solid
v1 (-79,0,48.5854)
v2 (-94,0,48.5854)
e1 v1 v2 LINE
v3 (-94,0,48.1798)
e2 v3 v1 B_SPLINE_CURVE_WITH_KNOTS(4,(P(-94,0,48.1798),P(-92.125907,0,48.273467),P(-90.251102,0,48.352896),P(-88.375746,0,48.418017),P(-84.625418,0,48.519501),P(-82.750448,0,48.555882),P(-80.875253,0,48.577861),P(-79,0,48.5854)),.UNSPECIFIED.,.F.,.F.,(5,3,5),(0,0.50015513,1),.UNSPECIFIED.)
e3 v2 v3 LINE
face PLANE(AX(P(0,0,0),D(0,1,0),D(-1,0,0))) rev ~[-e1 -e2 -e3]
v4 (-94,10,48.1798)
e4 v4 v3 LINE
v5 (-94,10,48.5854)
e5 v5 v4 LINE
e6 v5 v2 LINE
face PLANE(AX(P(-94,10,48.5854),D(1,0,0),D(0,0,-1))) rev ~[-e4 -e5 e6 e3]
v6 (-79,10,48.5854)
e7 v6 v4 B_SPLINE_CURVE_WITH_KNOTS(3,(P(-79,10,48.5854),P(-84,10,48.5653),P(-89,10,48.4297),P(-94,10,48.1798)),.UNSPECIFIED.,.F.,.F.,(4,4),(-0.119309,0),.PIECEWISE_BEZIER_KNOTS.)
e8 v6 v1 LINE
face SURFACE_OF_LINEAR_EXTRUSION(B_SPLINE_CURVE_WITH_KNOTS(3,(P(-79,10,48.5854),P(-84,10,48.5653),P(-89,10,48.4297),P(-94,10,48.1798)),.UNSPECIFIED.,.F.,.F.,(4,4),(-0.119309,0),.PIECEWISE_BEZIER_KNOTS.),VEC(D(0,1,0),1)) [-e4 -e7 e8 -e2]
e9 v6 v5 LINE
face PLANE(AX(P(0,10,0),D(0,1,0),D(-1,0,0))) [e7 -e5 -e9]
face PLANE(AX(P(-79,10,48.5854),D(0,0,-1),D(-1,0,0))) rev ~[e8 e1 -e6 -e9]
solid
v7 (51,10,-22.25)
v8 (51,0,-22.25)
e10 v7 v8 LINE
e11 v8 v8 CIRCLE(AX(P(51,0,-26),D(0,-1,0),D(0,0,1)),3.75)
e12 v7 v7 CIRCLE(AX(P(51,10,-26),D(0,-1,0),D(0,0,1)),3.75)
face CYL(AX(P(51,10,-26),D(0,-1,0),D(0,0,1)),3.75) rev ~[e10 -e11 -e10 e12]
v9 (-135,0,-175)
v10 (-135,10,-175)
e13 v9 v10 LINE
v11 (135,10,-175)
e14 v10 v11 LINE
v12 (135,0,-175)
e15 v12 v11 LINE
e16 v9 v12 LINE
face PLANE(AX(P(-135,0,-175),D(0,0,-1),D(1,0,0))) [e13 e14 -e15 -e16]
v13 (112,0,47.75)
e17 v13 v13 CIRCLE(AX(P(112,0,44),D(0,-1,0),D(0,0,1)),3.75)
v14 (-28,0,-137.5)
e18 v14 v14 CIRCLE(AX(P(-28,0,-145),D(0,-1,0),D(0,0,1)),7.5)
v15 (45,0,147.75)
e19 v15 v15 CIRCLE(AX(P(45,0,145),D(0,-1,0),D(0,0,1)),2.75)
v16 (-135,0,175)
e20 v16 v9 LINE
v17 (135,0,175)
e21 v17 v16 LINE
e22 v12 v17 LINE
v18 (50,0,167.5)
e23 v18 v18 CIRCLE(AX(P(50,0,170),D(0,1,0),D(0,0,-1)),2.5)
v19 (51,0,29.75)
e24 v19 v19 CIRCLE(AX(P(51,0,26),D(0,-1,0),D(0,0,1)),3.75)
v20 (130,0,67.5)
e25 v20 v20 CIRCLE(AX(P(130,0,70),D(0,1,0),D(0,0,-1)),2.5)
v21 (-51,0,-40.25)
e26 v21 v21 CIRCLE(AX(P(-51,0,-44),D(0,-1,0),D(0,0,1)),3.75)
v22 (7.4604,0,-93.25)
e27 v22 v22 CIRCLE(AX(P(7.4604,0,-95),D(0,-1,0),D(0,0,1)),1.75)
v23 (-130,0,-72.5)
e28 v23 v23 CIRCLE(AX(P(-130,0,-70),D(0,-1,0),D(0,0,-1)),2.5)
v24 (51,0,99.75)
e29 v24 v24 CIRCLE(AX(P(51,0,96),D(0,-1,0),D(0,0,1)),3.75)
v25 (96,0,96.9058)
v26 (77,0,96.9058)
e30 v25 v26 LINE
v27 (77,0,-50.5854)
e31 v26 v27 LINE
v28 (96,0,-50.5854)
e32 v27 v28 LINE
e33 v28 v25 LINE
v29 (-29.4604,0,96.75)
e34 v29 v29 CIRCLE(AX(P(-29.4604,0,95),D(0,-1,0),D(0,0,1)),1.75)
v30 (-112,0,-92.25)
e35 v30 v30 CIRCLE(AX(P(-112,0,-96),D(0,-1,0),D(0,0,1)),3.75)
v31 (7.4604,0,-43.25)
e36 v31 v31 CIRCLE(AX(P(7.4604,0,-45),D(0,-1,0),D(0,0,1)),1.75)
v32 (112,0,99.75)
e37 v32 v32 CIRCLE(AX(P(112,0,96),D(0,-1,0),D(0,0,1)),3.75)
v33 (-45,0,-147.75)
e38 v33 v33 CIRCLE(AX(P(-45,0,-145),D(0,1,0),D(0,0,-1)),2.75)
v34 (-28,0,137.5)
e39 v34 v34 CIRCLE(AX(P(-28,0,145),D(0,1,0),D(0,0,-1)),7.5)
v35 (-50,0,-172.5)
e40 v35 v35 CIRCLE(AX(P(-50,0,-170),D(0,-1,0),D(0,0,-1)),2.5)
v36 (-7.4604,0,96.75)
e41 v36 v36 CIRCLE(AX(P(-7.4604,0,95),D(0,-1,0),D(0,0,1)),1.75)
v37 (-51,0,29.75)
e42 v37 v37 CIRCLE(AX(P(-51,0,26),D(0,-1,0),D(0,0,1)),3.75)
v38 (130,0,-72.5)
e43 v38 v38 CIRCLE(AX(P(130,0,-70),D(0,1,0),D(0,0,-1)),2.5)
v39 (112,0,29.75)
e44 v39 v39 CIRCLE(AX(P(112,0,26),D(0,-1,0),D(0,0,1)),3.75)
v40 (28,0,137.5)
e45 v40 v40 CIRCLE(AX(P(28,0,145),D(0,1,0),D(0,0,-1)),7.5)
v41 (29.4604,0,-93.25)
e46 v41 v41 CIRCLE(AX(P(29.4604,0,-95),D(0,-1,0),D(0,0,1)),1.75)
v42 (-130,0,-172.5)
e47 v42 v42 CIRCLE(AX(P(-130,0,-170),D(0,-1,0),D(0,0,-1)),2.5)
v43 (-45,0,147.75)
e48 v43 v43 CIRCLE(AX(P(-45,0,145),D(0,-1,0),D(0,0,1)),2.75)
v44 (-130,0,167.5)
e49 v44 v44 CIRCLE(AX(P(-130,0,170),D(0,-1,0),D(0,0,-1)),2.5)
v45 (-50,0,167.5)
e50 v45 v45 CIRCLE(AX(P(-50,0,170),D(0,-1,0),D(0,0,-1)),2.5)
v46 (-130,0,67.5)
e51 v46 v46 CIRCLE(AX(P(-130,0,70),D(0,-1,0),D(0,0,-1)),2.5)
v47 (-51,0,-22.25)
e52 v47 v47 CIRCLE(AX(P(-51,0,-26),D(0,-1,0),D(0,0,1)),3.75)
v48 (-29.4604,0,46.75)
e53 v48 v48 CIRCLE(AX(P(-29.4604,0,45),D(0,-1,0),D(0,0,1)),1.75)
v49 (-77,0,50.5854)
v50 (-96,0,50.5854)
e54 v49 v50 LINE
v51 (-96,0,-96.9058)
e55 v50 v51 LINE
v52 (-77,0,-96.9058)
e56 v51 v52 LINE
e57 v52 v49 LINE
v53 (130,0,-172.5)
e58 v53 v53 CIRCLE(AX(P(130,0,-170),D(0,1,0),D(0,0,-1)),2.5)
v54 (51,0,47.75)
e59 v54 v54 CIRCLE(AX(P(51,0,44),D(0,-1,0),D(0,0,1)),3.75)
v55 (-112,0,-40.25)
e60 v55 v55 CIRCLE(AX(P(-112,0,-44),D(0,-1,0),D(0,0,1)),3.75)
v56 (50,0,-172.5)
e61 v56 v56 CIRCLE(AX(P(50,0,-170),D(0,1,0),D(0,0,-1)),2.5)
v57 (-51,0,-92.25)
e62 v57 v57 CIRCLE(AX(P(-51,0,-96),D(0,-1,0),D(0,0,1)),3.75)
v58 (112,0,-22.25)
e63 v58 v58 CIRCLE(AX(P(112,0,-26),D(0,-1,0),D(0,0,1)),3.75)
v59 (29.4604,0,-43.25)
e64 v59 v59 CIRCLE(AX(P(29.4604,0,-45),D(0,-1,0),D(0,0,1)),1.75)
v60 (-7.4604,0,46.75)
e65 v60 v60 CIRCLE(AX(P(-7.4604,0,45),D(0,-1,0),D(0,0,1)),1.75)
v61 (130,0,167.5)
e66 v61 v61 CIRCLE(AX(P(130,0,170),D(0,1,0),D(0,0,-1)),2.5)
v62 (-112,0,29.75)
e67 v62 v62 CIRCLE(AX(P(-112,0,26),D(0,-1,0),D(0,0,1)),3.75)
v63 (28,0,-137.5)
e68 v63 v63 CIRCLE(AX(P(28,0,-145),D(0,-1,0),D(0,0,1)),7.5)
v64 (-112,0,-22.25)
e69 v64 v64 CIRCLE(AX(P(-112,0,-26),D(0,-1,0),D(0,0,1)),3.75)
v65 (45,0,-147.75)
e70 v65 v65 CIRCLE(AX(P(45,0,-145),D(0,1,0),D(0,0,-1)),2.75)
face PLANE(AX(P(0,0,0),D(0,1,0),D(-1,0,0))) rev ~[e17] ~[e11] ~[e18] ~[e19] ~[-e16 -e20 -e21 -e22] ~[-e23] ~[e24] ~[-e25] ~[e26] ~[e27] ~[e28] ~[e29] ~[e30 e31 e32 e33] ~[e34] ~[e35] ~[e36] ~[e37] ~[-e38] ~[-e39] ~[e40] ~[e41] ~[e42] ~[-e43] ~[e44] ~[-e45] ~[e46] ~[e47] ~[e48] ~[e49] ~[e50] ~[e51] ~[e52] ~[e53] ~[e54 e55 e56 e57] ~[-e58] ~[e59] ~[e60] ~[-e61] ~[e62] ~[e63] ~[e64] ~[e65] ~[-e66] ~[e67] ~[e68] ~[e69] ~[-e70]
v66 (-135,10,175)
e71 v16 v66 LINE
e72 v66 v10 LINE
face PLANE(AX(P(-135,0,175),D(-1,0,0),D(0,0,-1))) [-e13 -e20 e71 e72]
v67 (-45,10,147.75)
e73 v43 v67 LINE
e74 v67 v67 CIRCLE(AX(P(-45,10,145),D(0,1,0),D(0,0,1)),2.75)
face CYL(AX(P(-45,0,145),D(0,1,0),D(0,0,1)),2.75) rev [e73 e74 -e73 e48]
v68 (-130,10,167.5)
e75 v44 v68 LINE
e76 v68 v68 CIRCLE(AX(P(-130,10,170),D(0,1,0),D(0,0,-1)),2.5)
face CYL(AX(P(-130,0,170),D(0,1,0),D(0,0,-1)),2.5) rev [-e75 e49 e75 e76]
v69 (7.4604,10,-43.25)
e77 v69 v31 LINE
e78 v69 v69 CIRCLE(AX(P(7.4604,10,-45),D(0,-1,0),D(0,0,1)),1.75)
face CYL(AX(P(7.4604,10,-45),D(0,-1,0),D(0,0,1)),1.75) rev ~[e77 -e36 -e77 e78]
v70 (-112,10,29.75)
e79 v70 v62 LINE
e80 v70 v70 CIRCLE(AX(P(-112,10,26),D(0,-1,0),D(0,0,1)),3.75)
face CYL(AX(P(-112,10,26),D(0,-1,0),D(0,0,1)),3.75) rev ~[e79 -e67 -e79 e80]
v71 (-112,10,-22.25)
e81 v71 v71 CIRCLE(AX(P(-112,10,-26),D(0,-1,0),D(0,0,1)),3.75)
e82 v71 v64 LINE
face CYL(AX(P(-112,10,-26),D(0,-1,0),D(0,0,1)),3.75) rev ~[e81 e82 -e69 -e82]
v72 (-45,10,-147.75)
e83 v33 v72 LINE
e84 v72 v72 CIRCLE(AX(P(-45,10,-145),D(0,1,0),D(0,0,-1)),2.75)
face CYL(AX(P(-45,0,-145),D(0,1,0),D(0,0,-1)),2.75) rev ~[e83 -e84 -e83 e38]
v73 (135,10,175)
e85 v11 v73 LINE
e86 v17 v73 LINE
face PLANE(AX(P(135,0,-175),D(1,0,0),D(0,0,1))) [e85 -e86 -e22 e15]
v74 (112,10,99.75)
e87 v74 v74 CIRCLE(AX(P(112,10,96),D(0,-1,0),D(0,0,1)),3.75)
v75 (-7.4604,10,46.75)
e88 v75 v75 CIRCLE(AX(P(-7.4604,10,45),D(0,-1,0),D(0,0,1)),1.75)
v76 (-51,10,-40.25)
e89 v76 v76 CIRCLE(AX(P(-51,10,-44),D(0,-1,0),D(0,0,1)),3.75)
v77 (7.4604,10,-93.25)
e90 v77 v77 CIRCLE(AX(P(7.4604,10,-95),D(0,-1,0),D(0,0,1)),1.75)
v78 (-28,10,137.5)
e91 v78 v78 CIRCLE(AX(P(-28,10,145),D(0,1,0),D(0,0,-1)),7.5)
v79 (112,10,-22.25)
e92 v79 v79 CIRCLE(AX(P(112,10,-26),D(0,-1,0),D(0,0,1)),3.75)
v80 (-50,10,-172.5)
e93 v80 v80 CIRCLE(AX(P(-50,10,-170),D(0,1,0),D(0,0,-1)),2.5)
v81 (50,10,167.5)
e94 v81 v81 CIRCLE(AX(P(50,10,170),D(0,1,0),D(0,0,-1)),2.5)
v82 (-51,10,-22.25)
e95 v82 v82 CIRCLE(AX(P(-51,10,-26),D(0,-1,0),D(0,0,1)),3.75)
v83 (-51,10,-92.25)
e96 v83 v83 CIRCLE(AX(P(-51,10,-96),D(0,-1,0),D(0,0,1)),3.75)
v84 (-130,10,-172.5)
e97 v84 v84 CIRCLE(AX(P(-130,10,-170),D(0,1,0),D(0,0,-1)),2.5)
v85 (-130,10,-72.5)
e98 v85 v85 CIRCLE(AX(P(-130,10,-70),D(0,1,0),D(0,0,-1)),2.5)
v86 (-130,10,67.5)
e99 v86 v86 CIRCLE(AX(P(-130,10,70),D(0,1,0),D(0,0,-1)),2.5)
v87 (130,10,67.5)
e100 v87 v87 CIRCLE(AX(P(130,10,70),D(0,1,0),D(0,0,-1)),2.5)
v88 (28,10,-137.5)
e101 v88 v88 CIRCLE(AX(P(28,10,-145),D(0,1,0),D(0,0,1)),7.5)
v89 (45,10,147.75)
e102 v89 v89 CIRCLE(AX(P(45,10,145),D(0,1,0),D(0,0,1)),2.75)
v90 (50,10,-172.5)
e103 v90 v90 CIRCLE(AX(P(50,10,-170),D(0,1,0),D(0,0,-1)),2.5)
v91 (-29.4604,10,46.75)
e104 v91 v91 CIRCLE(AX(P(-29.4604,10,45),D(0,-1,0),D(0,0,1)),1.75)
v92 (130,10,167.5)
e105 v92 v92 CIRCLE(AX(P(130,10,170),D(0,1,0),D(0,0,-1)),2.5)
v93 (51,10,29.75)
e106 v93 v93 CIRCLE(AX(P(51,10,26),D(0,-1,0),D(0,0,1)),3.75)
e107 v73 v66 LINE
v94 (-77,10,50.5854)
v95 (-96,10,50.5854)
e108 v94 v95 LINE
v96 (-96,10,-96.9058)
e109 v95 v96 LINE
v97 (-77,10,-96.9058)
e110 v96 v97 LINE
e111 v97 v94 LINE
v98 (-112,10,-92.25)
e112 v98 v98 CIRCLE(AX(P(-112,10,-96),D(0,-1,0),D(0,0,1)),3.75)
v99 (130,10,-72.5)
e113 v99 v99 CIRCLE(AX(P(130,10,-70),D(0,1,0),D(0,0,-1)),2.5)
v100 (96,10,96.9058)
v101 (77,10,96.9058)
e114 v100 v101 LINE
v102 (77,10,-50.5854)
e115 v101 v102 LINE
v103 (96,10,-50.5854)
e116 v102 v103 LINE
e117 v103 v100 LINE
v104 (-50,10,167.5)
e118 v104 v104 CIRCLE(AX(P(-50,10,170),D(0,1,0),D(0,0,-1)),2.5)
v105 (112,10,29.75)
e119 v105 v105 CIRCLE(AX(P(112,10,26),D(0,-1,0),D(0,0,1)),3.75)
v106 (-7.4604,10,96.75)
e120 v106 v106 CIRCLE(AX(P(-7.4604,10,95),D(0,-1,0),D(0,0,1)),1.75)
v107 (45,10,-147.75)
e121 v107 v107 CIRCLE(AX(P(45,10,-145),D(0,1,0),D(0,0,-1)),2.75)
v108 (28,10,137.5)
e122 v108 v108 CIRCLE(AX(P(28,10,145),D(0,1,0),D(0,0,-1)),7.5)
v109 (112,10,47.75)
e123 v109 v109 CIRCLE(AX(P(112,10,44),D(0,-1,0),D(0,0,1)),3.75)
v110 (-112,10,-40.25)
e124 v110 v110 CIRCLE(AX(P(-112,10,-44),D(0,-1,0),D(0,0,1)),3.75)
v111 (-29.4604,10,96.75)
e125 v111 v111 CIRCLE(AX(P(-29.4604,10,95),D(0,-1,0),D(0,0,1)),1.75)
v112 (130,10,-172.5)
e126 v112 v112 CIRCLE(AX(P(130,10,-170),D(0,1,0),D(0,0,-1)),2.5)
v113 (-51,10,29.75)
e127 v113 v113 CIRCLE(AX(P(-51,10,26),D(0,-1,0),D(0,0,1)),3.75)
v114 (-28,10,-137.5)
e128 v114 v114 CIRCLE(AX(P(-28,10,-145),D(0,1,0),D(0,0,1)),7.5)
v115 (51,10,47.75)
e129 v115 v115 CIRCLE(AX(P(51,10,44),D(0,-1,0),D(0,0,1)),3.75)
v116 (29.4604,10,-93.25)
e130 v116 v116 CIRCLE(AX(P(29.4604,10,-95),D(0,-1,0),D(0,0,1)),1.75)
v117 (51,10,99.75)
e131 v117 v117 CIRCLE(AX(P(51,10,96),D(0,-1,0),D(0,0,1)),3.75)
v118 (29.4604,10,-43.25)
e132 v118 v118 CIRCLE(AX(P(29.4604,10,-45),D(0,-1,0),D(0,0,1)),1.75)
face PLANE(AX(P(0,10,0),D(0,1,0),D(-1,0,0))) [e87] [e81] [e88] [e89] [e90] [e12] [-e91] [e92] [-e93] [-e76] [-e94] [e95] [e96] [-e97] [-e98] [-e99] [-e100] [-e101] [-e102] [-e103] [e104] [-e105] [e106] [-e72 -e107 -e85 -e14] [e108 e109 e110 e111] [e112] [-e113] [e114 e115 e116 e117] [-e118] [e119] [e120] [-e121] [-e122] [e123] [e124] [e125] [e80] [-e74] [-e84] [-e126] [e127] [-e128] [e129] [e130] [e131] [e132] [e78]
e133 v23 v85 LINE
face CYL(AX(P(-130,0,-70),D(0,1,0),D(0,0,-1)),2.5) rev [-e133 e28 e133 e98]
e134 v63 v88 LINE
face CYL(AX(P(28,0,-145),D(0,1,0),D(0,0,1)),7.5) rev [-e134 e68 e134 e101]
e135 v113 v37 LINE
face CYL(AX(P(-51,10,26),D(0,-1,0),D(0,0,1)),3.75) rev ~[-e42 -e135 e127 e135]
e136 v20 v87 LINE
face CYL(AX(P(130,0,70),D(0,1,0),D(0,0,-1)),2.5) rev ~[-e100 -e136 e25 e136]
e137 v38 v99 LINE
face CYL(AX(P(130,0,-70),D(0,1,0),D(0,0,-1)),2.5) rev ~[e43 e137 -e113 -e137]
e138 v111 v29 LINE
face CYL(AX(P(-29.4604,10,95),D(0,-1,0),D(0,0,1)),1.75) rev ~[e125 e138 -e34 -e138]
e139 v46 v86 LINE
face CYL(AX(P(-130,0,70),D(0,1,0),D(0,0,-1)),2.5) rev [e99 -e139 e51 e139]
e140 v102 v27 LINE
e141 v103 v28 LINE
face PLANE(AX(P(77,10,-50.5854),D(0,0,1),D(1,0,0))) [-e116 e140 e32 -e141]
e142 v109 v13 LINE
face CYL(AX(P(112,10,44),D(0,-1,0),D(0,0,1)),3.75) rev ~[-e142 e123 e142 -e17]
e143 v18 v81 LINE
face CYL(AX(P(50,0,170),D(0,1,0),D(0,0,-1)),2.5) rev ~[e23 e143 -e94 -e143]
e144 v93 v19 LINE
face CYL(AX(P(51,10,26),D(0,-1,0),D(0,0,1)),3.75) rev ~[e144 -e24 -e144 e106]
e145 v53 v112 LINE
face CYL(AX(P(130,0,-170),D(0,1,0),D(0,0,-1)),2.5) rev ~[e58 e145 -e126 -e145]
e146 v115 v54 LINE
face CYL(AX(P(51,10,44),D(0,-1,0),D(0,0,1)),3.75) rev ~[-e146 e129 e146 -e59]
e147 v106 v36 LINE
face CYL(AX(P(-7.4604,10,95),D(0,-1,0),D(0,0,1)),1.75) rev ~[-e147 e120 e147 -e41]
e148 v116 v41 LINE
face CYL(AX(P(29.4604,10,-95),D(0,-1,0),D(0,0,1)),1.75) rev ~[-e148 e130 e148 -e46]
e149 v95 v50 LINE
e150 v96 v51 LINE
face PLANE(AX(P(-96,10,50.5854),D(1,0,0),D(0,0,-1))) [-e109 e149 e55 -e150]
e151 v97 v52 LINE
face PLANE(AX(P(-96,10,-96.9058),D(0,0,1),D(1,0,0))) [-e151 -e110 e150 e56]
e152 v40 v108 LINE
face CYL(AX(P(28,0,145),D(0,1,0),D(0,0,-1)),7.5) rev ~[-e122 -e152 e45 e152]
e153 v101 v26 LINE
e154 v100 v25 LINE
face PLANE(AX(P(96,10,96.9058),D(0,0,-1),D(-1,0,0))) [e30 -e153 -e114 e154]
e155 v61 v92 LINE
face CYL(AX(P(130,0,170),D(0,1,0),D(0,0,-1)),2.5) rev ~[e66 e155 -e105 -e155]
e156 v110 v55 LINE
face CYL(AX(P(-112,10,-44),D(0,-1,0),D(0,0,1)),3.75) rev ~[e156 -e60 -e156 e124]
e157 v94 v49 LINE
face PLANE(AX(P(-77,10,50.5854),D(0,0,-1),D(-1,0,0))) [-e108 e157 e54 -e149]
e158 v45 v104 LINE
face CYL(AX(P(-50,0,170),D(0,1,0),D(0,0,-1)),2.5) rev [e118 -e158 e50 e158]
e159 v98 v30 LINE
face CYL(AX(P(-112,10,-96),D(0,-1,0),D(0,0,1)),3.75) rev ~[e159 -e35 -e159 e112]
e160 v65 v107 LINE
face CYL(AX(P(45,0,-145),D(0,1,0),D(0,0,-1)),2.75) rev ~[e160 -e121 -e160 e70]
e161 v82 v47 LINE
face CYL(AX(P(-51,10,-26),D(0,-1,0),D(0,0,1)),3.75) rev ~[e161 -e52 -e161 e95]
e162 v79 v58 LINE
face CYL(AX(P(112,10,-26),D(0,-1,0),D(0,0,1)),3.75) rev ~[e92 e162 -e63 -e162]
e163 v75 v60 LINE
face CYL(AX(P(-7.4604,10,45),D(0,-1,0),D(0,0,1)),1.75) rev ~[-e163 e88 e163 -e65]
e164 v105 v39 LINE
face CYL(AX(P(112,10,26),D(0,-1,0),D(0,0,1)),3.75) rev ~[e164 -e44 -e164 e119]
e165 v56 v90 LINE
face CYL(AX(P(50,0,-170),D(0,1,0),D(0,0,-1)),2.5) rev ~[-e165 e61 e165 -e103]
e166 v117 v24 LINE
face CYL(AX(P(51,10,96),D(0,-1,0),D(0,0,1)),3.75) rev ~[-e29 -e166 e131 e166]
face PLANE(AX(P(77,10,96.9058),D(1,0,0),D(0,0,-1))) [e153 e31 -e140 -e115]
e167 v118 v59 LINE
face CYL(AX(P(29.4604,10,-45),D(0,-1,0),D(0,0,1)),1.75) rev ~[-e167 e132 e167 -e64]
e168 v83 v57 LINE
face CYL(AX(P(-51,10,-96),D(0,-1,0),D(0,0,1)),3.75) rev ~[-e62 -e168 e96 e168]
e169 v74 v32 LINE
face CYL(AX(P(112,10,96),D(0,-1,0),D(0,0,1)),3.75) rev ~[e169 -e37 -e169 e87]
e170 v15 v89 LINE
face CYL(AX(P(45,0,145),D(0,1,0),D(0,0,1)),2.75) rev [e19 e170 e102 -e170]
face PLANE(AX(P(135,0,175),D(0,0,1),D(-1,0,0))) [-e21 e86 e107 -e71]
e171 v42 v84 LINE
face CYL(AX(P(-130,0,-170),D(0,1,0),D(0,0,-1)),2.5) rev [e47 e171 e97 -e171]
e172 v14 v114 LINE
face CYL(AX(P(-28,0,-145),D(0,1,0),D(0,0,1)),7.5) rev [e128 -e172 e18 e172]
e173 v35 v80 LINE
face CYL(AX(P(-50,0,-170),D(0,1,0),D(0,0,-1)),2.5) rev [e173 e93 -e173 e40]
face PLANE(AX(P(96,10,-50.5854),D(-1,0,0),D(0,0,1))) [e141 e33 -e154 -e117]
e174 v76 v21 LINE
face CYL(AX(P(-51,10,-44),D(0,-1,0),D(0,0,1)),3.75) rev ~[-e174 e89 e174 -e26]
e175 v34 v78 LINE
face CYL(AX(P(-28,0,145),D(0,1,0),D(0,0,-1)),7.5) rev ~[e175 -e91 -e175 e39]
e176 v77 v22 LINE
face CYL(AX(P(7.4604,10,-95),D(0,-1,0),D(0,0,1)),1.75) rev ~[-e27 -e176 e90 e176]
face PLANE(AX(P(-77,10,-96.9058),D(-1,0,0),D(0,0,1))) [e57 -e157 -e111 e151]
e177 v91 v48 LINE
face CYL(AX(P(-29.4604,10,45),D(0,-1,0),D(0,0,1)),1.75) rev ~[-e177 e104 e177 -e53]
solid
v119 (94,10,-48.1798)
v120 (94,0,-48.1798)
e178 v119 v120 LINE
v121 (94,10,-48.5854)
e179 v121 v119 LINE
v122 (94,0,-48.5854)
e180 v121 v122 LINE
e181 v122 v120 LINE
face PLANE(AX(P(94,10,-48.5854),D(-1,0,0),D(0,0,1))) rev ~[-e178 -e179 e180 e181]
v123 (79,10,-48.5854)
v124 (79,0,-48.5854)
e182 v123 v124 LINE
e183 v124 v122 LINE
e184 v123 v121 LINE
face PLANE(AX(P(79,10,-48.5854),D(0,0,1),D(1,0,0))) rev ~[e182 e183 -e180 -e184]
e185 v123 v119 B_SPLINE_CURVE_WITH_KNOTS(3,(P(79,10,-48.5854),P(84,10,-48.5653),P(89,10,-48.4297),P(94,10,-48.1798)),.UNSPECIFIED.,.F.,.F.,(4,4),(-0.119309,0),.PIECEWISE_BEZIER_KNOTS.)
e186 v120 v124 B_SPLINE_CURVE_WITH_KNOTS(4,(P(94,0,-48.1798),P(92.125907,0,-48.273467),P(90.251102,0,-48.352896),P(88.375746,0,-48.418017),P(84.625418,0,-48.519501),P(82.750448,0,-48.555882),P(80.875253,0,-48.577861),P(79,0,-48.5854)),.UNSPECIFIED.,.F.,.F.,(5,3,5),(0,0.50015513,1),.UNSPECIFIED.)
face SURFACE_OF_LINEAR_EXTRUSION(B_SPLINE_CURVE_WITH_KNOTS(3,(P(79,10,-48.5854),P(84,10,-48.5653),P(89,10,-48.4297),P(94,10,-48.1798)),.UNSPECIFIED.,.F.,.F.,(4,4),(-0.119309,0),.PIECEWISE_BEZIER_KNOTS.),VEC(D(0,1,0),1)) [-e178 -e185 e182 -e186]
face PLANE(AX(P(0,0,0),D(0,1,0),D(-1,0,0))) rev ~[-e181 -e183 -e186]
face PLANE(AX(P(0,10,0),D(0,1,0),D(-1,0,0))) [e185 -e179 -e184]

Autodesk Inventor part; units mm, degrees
ref_plane "YZ Plane" through (0, 0, 0) normal (1, 0, 0) x (0, 1, 0)
ref_plane "XZ Plane" through (0, 0, 0) normal (0, 1, 0) x (-1, 0, 0)
ref_plane "XY Plane" through (0, 0, 0) normal (0, 0, 1) x (1, 0, 0)
sketch "Sketch1" plane through (0, 0, 0) normal (0, 1, 0) x (-1, 0, 0)
  line L0 (-135, 175) -> (135, 175)
  line L1 (135, 175) -> (135, -175)
  line L2 (135, -175) -> (-135, -175)
  line L3 (-135, -175) -> (-135, 175)
  line L4 (-135, 175) -> (135, -175) construction
  line L5 (135, 175) -> (-135, -175) construction
  point P0 (0, 0)
  dimension "d0" = 350
  dimension "d1" = 270
extrude "Extrusion1" add sketch "Sketch1" along normal blind 10
sketch "Sketch2" plane through (0, 0, 0) normal (0, -1, 0) x (1, 0, 0)
  line L0 (135, -175) -> (-135, -175) projected
  line L1 (135, 175) -> (135, -175) projected
  line L2 (-135, 175) -> (135, 175) projected
  line L3 (-135, -175) -> (-135, 175) projected
  line L4 (130, -170) -> (-130, -170)
  line L5 (-130, -170) -> (-130, 170)
  line L6 (-130, 170) -> (130, 170)
  line L7 (130, 170) -> (130, -170)
  point P0 (0, 0)
  point P1 (50, 170)
  point P2 (130, 70)
  point P3 (130, -70)
  point P4 (50, -170)
  dimension "d4" = 5
  dimension "d5" = 80
  dimension "d6" = 100
  dimension "d7" = 100
  dimension "d8" = 80
hole "Hole1" at (130, 0, 170) at (50, 0, 170) at (130, 0, 70) at (130, 0, -170) at (130, 0, -70) at (50, 0, -170) direction (0, 1, 0) diameter 5 end through all
mirror "Mirror1" about plane through (0, 0, 0) normal (1, 0, 0) of "Hole1"
sketch "Sketch3" plane through (0, 10, 0) normal (0, 1, 0) x (1, 0, 0)
  line L0 (-79, 80) -> (-79, 60) projected
  line L1 (-79, 10) -> (-79, -10) projected
  line L2 (-94, -5) -> (-94, 5) projected
  line L3 (-94, 65) -> (-94, 75) projected
  spline S0 degree 3 poles (-79, -48.5854) (-84, -48.5653) (-89, -48.4297) (-94, -48.1798) knots -0.119309 -0.119309 -0.119309 -0.119309 0 0 0 0 projected
  spline S1 degree 3 poles (-79, 95.3639) (-84, 95.4408) (-89, 95.2867) (-94, 94.9058) knots -0.233196 -0.233196 -0.233196 -0.233196 0 0 0 0 projected
  line L4 (-79, -48.5854) -> (-94, -48.5854)
  line L5 (-94, -48.5854) -> (-94, 94.9058)
  line L6 (-94, 94.9058) -> (-79, 94.9058)
  line L7 (-79, 94.9058) -> (-79, -48.5854)
  line L8 (-77, -50.5854) -> (-96, -50.5854)
  line L9 (-96, -50.5854) -> (-96, 96.9058)
  line L10 (-96, 96.9058) -> (-77, 96.9058)
  line L11 (-77, 96.9058) -> (-77, -50.5854)
  point P0 (0, 0)
  dimension "d18" = 2
extrude "Extrusion2" cut sketch "Sketch3" against normal through all contours L0 L7 L1 S0 L5 L2 L3 L6 | L8 L9 L10 L11
pattern_circular "Circular Pattern1" count 2 over 360 about axis through (0, -10, 0) along (0, 1, 0) of "Extrusion2"
sketch "Sketch4" plane through (0, 10, 0) normal (0, 1, 0) x (1, 0, 0)
  circle A0 centre (-112, 96) radius 4 projected
  circle A1 centre (-51, 96) radius 4 projected
  circle A2 centre (-112, 44) radius 4 projected
  circle A3 centre (-51, 44) radius 4 projected
  circle A4 centre (-112, 26) radius 4 projected
  circle A5 centre (-51, 26) radius 4 projected
  circle A6 centre (-112, -26) radius 4 projected
  circle A7 centre (-51, -26) radius 4 projected
  circle A8 centre (51, 26) radius 4 projected
  circle A9 centre (112, 26) radius 4 projected
  circle A10 centre (112, -26) radius 4 projected
  circle A11 centre (51, -26) radius 4 projected
  circle A12 centre (51, -44) radius 4 projected
  circle A13 centre (51, -96) radius 4 projected
  circle A14 centre (112, -96) radius 4 projected
  circle A15 centre (112, -44) radius 4 projected
  circle A16 centre (-7.4604, -95) radius 1.75 projected
  circle A17 centre (-29.4604, -95) radius 1.75 projected
  circle A18 centre (-7.4604, -45) radius 1.75 projected
  circle A19 centre (-29.4604, -45) radius 1.75 projected
  circle A20 centre (29.4604, 95) radius 1.75 projected
  circle A21 centre (7.4604, 95) radius 1.75 projected
  circle A22 centre (7.4604, 45) radius 1.75 projected
  circle A23 centre (29.4604, 45) radius 1.75 projected
  circle A24 centre (-29.4604, -45) radius 2.25
  circle A25 centre (-7.4604, -45) radius 2.25
  circle A26 centre (-7.4604, -95) radius 2.25
  circle A27 centre (-29.4604, -95) radius 2.25
  circle A28 centre (7.4604, 45) radius 2.25
  circle A29 centre (29.4604, 45) radius 2.25
  circle A30 centre (29.4604, 95) radius 2.25
  circle A31 centre (7.4604, 95) radius 2.25
  point P0 (0, 0)
  dimension "d22" = 0.5
  dimension "d23" = 0.5
hole "Hole2" at (-51, 10, -26) at (-112, 10, 26) at (-112, 10, -26) at (-112, 10, -44) at (-51, 10, 26) at (-51, 10, -96) at (-112, 10, -96) at (-51, 10, -44) at (51, 10, 26) at (51, 10, -26) at (112, 10, -26) at (112, 10, 26) at (112, 10, 44) at (112, 10, 96) at (51, 10, 96) at (51, 10, 44) direction (0, -1, 0) diameter 7.5 end through all
hole "Hole3" at (-7.4604, 10, 95) at (-29.4604, 10, 95) at (-29.4604, 10, 45) at (-7.4604, 10, 45) at (29.4604, 10, -45) at (7.4604, 10, -45) at (29.4604, 10, -95) at (7.4604, 10, -95) direction (0, -1, 0) diameter 3.5 end through all
sketch "Sketch5" plane through (0, 0, 0) normal (0, -1, 0) x (1, 0, 0)
  circle A0 centre (29.4604, -95) radius 1.75 projected
  circle A1 centre (29.4604, -45) radius 1.75 projected
  circle A2 centre (-29.4604, 45) radius 1.75 projected
  circle A3 centre (-7.4604, 95) radius 1.75 projected
  circle A4 centre (-29.4604, 95) radius 1.75 projected
  circle A5 centre (-7.4604, 45) radius 1.75 projected
  circle A6 centre (7.4604, -45) radius 1.75 projected
  circle A7 centre (7.4604, -95) radius 1.75 projected
  circle A8 centre (51, 96) radius 3.75 projected
  circle A9 centre (112, 44) radius 3.75 projected
  circle A10 centre (112, -26) radius 3.75 projected
  circle A11 centre (51, 26) radius 3.75 projected
  circle A12 centre (-112, -96) radius 3.75 projected
  circle A13 centre (-51, 26) radius 3.75 projected
  circle A14 centre (-112, -26) radius 3.75 projected
  circle A15 centre (-51, -26) radius 3.75 projected
  circle A16 centre (-112, 26) radius 3.75 projected
  circle A17 centre (-112, -44) radius 3.75 projected
  circle A18 centre (-51, -96) radius 3.75 projected
  circle A19 centre (-51, -44) radius 3.75 projected
  circle A20 centre (51, -26) radius 3.75 projected
  circle A21 centre (112, 26) radius 3.75 projected
  circle A22 centre (112, 96) radius 3.75 projected
  circle A23 centre (51, 44) radius 3.75 projected
  line L0 (-96, -96.9058) -> (-96, 50.5854) projected
  line L1 (-96, 50.5854) -> (-77, 50.5854) projected
  line L2 (-77, 50.5854) -> (-77, -96.9058) projected
  line L3 (-77, -96.9058) -> (-96, -96.9058) projected
  circle A24 centre (-130, -70) radius 2.5 projected
  circle A25 centre (-50, -170) radius 2.5 projected
  circle A26 centre (-130, -170) radius 2.5 projected
  circle A27 centre (-50, 170) radius 2.5 projected
  circle A28 centre (-130, 170) radius 2.5 projected
  circle A29 centre (-130, 70) radius 2.5 projected
  circle A30 centre (130, -70) radius 2.5 projected
  circle A31 centre (130, 70) radius 2.5 projected
  circle A32 centre (130, 170) radius 2.5 projected
  circle A33 centre (50, 170) radius 2.5 projected
  circle A34 centre (130, -170) radius 2.5 projected
  circle A35 centre (50, -170) radius 2.5 projected
  line L4 (135, -175) -> (-135, -175) projected
  line L5 (135, 175) -> (135, -175) projected
  line L6 (-135, 175) -> (135, 175) projected
  line L7 (-135, -175) -> (-135, 175) projected
  line L8 (77, -50.5854) -> (77, 96.9058) projected
  line L9 (77, 96.9058) -> (96, 96.9058) projected
  line L10 (96, 96.9058) -> (96, -50.5854) projected
  line L11 (96, -50.5854) -> (77, -50.5854) projected
  line L12 (-135, 175) -> (135, 175) projected
  line L13 (0, 175) -> (0, 145)
  line L14 (-28, 145) -> (28, 145)
  point P0 (0, 0)
  dimension "d38" = 56
  dimension "d39" = 30
hole "Hole4" at (-28, 0, 145) at (28, 0, 145) direction (0, 1, 0) diameter 15 end through all
sketch "Sketch6" plane through (0, 0, 0) normal (0, -1, 0) x (1, 0, 0)
  circle A0 centre (-28, 145) radius 7.5 projected
  circle A1 centre (28, 145) radius 7.5 projected
  circle A2 centre (29.4604, -95) radius 1.75 projected
  circle A3 centre (29.4604, -45) radius 1.75 projected
  circle A4 centre (-29.4604, 45) radius 1.75 projected
  circle A5 centre (-7.4604, 95) radius 1.75 projected
  circle A6 centre (-29.4604, 95) radius 1.75 projected
  circle A7 centre (-7.4604, 45) radius 1.75 projected
  circle A8 centre (7.4604, -45) radius 1.75 projected
  circle A9 centre (7.4604, -95) radius 1.75 projected
  circle A10 centre (51, 96) radius 3.75 projected
  circle A11 centre (112, 44) radius 3.75 projected
  circle A12 centre (112, -26) radius 3.75 projected
  circle A13 centre (51, 26) radius 3.75 projected
  circle A14 centre (-112, -96) radius 3.75 projected
  circle A15 centre (-51, 26) radius 3.75 projected
  circle A16 centre (-112, -26) radius 3.75 projected
  circle A17 centre (-51, -26) radius 3.75 projected
  circle A18 centre (-112, 26) radius 3.75 projected
  circle A19 centre (-112, -44) radius 3.75 projected
  circle A20 centre (-51, -96) radius 3.75 projected
  circle A21 centre (-51, -44) radius 3.75 projected
  circle A22 centre (51, -26) radius 3.75 projected
  circle A23 centre (112, 26) radius 3.75 projected
  circle A24 centre (112, 96) radius 3.75 projected
  circle A25 centre (51, 44) radius 3.75 projected
  line L0 (-96, -96.9058) -> (-96, 50.5854) projected
  line L1 (-96, 50.5854) -> (-77, 50.5854) projected
  line L2 (-77, 50.5854) -> (-77, -96.9058) projected
  line L3 (-77, -96.9058) -> (-96, -96.9058) projected
  circle A26 centre (-130, -70) radius 2.5 projected
  circle A27 centre (-50, -170) radius 2.5 projected
  circle A28 centre (-130, -170) radius 2.5 projected
  circle A29 centre (-50, 170) radius 2.5 projected
  circle A30 centre (-130, 170) radius 2.5 projected
  circle A31 centre (-130, 70) radius 2.5 projected
  circle A32 centre (130, -70) radius 2.5 projected
  circle A33 centre (130, 70) radius 2.5 projected
  circle A34 centre (130, 170) radius 2.5 projected
  circle A35 centre (50, 170) radius 2.5 projected
  circle A36 centre (130, -170) radius 2.5 projected
  circle A37 centre (50, -170) radius 2.5 projected
  line L4 (135, -175) -> (-135, -175) projected
  line L5 (135, 175) -> (135, -175) projected
  line L6 (-135, 175) -> (135, 175) projected
  line L7 (-135, -175) -> (-135, 175) projected
  line L8 (77, -50.5854) -> (77, 96.9058) projected
  line L9 (77, 96.9058) -> (96, 96.9058) projected
  line L10 (96, 96.9058) -> (96, -50.5854) projected
  line L11 (96, -50.5854) -> (77, -50.5854) projected
  circle A38 centre (28, -145) radius 2.7 projected
  circle A39 centre (-28, -145) radius 2.067 projected
  line L12 (45, -145) -> (-45, -145)
  line L13 (135, -175) -> (-135, -175) projected
  line L14 (0, -175) -> (0, -137.6491)
  point P0 (0, 0)
  dimension "d47" = 90
hole "Hole5" at (-45, 0, -145) at (45, 0, -145) direction (0, 1, 0) diameter 5.5 end through all
mirror "Mirror2" about plane through (0, 0, 0) normal (0, 0, 1) of "Hole4", "Hole5"
properties part number "06_Tam_de_01"
